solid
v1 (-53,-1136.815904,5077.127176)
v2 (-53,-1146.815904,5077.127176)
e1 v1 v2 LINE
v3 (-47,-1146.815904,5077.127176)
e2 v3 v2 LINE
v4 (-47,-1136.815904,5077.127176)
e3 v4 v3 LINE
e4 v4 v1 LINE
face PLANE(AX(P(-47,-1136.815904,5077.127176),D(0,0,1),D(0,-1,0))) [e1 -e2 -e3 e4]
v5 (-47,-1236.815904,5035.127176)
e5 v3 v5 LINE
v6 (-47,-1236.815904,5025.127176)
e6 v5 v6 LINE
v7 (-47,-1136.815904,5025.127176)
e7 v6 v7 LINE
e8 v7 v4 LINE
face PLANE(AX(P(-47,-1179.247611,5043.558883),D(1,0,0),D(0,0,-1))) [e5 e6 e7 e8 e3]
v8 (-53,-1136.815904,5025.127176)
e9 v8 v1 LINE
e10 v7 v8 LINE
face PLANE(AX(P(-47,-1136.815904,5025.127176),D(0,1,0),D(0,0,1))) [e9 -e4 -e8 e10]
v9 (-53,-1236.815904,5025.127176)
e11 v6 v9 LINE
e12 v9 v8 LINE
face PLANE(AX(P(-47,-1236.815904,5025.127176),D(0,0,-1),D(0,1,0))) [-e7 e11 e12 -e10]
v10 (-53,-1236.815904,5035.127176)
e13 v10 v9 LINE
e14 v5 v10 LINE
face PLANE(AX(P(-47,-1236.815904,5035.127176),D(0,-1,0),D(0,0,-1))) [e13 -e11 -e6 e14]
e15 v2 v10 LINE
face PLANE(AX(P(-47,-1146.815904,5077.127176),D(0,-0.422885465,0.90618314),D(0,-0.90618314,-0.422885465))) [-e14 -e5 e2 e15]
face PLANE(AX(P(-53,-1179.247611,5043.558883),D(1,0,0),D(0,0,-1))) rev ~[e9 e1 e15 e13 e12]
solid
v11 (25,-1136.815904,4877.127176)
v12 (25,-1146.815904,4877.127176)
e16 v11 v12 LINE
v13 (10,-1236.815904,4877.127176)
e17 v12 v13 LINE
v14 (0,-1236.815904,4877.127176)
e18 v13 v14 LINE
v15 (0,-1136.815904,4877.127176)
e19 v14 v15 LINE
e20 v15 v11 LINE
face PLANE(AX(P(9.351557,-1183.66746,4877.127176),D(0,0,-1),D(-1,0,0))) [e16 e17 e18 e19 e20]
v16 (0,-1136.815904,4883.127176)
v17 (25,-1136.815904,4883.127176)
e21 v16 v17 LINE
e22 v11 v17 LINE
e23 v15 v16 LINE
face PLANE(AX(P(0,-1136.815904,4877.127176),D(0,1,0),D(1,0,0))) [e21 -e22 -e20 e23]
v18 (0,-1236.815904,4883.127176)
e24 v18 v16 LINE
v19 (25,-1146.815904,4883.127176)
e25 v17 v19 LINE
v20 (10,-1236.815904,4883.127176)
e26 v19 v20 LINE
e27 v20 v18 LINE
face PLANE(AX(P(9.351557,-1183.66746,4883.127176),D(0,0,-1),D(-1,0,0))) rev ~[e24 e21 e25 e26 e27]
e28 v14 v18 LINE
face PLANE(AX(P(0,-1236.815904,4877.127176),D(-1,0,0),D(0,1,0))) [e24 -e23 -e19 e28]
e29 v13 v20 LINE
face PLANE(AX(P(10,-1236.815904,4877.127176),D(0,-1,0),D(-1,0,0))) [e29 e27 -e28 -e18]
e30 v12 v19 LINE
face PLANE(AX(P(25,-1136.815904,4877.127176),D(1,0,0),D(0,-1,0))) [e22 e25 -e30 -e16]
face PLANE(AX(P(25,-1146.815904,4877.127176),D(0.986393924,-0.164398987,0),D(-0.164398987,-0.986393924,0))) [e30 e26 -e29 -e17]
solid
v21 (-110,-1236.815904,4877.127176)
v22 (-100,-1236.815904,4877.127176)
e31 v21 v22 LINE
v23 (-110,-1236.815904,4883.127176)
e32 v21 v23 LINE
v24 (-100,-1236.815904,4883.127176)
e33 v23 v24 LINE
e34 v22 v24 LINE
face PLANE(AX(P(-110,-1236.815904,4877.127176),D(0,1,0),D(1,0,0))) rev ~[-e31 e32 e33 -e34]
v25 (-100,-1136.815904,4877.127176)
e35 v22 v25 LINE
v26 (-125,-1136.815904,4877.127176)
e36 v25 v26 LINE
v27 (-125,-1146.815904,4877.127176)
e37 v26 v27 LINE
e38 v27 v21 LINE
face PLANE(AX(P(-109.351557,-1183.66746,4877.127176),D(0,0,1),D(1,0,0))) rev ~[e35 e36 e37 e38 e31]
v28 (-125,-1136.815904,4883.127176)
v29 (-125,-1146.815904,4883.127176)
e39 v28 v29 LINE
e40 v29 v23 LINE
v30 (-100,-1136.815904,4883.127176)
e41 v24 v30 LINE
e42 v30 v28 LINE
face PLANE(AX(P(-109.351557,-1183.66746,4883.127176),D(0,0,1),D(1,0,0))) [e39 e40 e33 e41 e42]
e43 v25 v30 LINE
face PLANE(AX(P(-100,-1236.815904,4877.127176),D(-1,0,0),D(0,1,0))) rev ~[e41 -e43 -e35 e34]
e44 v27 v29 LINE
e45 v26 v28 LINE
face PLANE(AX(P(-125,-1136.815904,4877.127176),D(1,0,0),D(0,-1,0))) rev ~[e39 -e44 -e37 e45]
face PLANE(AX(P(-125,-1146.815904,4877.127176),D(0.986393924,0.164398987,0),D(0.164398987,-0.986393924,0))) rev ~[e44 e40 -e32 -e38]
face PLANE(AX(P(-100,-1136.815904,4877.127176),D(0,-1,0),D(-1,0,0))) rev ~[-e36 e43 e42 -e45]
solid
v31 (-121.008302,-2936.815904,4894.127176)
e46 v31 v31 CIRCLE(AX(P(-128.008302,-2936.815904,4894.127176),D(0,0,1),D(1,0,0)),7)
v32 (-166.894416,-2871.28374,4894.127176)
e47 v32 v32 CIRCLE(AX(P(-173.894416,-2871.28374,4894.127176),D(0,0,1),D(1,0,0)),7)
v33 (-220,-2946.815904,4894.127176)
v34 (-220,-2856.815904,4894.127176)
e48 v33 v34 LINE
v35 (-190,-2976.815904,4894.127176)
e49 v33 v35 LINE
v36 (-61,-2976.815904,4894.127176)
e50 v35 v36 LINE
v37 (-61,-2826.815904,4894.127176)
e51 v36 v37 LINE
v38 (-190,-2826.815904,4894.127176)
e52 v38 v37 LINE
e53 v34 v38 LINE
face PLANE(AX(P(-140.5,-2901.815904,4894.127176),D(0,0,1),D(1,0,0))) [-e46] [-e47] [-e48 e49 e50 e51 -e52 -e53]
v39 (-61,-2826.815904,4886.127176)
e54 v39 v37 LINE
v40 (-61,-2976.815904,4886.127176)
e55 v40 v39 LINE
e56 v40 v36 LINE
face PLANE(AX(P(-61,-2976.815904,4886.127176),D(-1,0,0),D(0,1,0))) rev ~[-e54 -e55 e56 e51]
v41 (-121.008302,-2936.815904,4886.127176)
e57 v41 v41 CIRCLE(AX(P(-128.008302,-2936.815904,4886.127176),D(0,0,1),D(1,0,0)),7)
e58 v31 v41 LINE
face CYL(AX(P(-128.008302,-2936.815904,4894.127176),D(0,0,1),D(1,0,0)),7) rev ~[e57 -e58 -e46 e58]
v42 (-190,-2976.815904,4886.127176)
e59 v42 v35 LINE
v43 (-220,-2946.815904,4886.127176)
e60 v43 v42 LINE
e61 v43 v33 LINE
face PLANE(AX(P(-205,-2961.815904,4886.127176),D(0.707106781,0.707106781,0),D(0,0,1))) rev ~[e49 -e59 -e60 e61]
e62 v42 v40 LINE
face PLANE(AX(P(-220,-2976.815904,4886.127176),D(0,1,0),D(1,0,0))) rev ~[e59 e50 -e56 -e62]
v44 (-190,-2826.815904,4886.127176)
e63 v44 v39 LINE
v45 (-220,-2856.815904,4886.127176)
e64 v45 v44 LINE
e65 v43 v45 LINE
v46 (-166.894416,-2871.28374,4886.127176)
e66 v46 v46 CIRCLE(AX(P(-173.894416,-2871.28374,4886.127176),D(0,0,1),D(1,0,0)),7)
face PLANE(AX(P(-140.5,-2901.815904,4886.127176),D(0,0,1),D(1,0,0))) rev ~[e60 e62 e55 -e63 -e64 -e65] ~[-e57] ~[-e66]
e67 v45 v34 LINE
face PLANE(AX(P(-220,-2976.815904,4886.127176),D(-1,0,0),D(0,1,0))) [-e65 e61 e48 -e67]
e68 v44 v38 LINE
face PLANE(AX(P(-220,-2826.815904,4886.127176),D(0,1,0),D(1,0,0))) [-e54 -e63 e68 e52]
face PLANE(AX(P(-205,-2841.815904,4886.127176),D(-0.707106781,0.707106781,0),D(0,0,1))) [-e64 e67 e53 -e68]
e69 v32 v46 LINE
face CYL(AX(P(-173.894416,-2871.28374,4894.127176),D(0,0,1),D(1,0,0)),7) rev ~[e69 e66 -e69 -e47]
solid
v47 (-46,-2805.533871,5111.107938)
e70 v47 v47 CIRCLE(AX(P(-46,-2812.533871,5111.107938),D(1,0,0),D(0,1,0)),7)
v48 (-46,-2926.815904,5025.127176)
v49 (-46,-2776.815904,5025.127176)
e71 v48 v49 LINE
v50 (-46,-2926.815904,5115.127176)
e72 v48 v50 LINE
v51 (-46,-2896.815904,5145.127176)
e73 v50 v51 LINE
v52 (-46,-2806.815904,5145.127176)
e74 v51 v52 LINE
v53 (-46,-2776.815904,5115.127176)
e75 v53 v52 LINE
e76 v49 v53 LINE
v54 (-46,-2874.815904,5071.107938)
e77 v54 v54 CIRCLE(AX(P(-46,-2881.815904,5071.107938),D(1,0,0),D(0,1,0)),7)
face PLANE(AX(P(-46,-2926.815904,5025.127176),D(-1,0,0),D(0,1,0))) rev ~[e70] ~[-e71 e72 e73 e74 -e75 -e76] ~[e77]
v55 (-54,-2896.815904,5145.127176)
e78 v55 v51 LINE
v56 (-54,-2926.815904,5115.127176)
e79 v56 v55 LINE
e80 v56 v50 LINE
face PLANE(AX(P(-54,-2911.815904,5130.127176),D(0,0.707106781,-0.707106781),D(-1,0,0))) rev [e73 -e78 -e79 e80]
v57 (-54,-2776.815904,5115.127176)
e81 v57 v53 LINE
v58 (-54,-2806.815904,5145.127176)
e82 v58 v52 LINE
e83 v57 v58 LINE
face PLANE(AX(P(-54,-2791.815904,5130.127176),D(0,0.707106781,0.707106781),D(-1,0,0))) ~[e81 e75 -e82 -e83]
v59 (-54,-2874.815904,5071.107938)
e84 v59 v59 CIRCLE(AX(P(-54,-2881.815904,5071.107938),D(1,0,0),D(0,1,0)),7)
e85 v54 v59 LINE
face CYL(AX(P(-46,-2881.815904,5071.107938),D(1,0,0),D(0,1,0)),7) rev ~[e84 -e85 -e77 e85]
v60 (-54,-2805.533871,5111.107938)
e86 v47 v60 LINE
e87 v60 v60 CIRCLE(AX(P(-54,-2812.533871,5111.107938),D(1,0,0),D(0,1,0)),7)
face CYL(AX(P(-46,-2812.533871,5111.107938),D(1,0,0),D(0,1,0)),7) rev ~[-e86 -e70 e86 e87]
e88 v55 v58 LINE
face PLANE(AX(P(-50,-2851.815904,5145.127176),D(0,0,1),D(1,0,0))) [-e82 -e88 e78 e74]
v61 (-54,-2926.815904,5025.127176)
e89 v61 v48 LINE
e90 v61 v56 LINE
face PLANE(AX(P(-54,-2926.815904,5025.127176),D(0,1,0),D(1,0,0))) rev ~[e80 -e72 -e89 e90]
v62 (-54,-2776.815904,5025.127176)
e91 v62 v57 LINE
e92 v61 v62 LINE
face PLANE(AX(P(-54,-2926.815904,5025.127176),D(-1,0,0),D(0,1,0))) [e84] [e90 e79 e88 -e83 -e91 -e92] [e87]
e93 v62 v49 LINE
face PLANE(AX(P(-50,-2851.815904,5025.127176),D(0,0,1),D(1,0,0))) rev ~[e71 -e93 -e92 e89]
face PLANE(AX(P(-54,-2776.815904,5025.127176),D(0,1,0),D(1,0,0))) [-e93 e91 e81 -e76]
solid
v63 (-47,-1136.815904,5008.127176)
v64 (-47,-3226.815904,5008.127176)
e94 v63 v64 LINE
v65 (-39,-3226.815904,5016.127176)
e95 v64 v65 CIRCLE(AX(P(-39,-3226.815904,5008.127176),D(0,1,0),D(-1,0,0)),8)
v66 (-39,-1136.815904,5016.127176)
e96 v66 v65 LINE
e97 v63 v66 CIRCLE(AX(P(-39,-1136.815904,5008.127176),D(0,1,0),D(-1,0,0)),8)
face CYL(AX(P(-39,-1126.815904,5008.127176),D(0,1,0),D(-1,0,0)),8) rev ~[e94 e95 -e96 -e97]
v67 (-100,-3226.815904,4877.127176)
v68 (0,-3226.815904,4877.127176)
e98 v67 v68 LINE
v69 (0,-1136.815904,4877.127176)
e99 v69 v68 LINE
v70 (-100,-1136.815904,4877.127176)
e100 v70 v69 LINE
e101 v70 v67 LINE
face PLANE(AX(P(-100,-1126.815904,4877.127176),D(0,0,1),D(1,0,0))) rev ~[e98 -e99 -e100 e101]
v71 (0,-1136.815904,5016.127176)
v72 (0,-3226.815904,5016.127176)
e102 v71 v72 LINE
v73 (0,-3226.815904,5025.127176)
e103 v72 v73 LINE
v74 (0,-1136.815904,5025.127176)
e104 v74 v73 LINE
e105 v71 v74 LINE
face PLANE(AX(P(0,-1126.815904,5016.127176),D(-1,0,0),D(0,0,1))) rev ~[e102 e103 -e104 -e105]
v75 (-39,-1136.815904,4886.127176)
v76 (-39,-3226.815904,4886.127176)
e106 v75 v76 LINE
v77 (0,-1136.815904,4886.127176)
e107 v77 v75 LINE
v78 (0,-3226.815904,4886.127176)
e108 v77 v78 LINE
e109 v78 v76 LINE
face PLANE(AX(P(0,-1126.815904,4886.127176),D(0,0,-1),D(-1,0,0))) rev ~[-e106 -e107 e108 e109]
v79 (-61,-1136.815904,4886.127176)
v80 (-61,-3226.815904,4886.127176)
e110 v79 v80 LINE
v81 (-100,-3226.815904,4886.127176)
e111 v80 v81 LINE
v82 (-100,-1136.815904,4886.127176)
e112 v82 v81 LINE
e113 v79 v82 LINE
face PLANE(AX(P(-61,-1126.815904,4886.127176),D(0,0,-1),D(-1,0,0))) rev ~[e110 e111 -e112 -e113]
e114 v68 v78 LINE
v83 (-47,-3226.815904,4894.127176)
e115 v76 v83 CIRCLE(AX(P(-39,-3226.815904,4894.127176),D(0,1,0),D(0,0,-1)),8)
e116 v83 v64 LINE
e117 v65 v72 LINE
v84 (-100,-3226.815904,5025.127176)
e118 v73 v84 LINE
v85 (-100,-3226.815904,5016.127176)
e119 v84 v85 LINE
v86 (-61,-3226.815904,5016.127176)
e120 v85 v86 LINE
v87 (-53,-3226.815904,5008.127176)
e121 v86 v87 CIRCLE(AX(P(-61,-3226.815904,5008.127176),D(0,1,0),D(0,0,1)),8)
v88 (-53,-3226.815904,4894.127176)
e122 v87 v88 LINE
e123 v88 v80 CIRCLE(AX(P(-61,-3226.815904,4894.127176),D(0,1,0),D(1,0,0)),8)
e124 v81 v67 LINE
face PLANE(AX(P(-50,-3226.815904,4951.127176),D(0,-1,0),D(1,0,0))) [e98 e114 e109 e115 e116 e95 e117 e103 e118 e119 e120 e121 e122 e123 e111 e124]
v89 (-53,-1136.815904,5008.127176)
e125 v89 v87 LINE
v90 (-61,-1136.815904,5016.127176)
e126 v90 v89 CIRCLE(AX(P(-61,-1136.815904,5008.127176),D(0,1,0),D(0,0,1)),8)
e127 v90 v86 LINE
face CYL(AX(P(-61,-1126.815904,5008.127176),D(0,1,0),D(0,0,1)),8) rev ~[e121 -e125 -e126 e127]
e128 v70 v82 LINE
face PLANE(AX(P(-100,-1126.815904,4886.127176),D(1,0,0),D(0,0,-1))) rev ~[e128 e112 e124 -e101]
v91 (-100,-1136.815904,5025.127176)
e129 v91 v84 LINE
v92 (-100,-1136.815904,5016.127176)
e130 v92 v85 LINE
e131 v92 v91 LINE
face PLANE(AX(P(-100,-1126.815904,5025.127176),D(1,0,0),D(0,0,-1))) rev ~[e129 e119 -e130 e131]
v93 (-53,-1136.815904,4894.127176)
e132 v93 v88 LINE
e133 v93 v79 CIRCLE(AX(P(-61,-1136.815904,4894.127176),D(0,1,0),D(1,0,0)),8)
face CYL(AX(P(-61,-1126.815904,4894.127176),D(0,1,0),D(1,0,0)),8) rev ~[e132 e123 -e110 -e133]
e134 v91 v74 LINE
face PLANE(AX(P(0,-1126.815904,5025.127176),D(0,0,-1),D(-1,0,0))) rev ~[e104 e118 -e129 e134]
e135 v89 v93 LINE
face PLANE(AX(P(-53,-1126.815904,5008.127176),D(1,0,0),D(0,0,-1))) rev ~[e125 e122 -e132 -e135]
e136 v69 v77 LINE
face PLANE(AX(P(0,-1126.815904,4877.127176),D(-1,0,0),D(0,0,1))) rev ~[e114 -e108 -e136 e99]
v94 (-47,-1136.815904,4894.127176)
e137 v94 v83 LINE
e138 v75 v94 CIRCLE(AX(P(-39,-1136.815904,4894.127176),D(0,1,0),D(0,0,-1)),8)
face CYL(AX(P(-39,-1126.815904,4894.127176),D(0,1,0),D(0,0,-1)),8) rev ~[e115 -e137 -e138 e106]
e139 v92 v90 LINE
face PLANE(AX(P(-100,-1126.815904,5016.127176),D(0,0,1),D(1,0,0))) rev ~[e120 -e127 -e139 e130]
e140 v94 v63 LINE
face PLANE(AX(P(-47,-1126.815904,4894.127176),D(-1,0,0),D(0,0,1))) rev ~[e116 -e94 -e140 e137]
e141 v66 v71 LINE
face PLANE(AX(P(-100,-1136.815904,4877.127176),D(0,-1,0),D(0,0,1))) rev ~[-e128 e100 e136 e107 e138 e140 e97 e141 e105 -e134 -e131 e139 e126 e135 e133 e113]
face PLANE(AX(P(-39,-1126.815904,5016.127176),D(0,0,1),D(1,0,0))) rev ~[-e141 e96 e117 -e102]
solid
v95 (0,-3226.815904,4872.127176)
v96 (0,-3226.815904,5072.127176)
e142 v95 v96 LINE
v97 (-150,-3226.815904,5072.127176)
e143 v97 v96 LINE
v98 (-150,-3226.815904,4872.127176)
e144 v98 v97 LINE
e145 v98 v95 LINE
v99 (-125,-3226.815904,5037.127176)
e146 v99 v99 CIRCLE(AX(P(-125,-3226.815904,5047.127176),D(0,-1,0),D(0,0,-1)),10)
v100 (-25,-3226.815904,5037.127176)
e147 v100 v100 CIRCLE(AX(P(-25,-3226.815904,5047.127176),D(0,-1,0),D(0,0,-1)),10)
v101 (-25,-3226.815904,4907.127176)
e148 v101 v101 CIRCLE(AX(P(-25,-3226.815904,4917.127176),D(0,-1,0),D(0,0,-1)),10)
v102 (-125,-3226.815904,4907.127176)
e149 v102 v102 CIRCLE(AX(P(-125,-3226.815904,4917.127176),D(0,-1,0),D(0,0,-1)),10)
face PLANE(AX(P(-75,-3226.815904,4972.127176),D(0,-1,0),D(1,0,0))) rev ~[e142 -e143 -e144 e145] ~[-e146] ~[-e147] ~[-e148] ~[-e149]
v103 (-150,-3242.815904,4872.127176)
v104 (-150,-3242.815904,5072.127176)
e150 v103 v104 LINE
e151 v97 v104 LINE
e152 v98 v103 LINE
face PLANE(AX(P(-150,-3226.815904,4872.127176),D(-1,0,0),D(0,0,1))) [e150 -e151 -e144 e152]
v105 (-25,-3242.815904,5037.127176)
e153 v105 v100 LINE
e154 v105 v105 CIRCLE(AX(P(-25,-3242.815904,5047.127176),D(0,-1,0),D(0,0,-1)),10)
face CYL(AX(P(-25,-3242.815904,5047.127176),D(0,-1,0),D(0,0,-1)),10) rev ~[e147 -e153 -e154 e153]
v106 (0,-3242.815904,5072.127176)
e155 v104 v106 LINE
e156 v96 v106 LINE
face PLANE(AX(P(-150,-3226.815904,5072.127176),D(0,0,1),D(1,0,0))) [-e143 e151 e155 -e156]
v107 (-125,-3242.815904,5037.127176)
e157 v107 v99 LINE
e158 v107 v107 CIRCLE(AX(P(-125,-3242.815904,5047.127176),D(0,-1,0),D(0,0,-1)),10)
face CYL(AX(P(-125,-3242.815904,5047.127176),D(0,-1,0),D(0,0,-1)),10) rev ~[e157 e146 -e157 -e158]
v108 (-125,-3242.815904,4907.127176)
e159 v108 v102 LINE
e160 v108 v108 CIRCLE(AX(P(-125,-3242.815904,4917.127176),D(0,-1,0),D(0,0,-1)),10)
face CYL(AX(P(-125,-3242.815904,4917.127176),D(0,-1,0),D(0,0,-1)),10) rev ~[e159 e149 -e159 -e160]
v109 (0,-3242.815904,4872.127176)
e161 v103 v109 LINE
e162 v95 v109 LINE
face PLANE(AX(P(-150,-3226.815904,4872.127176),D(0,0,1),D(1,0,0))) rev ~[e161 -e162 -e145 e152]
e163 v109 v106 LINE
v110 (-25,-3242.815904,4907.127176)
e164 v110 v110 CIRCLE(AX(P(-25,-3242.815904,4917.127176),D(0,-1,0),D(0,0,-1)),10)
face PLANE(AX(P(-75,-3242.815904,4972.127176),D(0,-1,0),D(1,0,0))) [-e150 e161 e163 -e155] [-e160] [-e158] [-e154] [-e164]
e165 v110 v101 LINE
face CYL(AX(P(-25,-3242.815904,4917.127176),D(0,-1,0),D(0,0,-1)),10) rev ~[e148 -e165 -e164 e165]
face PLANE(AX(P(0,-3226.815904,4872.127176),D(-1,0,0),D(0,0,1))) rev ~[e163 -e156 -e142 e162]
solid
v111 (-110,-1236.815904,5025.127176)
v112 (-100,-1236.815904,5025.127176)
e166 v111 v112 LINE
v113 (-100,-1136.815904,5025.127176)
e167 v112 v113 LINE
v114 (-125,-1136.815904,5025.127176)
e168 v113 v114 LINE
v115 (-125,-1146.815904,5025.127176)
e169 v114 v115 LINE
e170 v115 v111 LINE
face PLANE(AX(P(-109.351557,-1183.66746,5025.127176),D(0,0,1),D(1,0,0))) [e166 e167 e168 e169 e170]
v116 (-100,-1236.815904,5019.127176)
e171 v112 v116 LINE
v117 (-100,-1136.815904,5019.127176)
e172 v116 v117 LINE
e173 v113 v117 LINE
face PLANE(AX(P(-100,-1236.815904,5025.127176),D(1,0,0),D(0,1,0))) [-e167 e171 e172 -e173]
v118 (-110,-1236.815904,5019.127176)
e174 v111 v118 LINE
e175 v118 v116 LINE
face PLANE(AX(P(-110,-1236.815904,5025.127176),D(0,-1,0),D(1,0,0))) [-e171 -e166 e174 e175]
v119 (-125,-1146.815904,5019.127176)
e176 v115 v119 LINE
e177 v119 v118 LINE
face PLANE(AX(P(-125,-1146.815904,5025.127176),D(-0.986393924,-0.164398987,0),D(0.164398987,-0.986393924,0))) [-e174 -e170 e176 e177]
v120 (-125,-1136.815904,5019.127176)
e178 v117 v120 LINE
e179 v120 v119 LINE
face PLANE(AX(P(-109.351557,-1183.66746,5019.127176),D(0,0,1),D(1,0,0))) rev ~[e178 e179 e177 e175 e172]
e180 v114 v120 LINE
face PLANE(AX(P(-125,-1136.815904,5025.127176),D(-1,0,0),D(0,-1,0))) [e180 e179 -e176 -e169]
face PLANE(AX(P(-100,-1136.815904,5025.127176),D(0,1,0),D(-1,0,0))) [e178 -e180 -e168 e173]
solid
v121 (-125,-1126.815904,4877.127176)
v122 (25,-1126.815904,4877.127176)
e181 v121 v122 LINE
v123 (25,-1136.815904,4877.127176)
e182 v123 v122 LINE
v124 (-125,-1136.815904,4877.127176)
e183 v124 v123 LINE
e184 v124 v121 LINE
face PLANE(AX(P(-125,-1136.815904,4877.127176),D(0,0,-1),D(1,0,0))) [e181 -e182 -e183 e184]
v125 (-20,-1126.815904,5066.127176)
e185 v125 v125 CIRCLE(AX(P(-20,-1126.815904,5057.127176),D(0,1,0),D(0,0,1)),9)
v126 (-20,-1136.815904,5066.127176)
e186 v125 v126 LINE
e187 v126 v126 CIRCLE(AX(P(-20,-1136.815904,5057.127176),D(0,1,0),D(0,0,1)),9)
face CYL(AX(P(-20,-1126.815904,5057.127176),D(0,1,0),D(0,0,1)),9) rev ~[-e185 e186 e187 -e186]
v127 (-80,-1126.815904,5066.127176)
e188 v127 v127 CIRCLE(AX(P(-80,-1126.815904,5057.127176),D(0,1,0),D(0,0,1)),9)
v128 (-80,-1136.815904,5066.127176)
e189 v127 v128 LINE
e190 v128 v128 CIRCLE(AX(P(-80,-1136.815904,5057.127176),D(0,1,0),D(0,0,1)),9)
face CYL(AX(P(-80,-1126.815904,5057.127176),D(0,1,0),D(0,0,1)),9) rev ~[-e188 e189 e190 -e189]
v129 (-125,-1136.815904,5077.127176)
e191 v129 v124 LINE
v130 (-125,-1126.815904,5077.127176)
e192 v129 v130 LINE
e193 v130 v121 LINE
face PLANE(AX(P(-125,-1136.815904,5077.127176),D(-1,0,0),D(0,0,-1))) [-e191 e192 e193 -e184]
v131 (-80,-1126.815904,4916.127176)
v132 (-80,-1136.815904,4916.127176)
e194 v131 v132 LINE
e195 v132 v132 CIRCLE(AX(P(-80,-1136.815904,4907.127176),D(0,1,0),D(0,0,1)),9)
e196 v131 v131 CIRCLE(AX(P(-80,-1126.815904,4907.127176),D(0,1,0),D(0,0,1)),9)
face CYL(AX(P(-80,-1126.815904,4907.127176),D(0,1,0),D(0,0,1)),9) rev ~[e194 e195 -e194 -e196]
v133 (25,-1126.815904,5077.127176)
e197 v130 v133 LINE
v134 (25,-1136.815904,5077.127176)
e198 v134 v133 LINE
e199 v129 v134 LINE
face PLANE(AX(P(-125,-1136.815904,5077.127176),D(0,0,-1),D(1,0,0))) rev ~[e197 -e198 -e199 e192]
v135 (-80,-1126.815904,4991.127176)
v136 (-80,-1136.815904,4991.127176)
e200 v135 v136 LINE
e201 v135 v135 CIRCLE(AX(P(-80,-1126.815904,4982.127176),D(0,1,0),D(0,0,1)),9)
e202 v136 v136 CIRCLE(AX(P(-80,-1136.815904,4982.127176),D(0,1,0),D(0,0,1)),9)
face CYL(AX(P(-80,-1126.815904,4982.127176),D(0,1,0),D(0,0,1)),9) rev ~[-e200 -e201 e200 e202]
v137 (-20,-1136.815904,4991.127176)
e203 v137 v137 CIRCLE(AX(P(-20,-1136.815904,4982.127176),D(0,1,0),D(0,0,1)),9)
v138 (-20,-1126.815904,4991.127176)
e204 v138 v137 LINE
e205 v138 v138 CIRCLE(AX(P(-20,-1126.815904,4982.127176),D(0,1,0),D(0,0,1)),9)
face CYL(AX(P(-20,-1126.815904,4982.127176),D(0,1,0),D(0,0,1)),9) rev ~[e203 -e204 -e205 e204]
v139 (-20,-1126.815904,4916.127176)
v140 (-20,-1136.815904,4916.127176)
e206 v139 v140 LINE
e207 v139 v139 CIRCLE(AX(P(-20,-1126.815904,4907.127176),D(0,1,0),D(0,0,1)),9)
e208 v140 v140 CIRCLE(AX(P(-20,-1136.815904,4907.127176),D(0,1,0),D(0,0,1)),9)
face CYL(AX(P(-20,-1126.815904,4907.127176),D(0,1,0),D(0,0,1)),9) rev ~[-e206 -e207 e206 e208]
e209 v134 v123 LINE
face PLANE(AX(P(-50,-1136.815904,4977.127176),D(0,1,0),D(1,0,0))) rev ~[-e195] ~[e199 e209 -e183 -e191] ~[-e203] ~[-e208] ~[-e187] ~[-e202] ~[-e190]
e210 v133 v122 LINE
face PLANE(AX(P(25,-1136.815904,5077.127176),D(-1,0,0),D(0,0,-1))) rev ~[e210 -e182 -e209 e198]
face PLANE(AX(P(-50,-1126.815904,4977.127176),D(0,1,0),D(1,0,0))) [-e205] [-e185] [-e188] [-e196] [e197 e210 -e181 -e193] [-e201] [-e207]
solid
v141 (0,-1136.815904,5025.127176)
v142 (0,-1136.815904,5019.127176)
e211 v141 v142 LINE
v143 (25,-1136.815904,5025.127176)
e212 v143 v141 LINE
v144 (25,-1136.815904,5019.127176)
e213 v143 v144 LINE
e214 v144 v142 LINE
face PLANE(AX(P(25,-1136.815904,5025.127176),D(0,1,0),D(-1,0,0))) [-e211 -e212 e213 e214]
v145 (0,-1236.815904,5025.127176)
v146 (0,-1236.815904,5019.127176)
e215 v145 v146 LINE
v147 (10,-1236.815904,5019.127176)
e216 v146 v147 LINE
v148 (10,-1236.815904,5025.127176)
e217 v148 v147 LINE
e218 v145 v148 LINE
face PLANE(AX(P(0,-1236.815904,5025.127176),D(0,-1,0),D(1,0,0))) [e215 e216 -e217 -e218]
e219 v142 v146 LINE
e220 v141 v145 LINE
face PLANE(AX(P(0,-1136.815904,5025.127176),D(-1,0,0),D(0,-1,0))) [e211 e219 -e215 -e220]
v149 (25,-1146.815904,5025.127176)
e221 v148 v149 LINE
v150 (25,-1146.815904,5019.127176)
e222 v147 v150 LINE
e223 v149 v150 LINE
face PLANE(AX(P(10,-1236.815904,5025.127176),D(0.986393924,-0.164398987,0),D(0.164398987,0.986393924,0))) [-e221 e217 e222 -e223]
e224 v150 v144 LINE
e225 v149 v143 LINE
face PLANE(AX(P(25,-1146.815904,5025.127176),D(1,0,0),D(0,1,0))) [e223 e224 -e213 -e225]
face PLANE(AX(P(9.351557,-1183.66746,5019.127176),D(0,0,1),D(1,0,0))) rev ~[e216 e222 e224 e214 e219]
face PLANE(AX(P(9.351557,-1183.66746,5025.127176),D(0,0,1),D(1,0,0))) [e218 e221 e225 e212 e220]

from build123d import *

# Parameters (mm, degrees)
H_HM150_100_1_DEPTH = 2100
SKETCH_12_W         = 150
SKETCH_12_H         = 200
EXTRUDE_1_DEPTH     = 16
SKETCH_13_W         = 148
SKETCH_13_H         = 10
CUT_EXTRUDE_1_DEPTH = 100
SKETCH_14_W         = 150
SKETCH_14_H         = 200
EXTRUDE_2_DEPTH     = 10
SKETCH_16_R         = 9
CUT_EXTRUDE_2_DEPTH = 10
EXTRUDE_3_DEPTH     = 6
EXTRUDE_3_2_DEPTH   = 6
EXTRUDE_4_DEPTH     = 6
EXTRUDE_4_2_DEPTH   = 6
EXTRUDE_5_DEPTH     = 6
SKETCH_20_W         = 8
SKETCH_20_H         = 150
EXTRUDE_6_DEPTH     = 120
CHAMFER_1_SIZE      = 30
SKETCH_21_R         = 7
CUT_EXTRUDE_3_DEPTH = 8
SKETCH_22_W         = 159
SKETCH_22_H         = 150
EXTRUDE_7_DEPTH     = 8
CHAMFER_2_SIZE      = 30
SKETCH_23_R         = 7
CUT_EXTRUDE_4_DEPTH = 8
SKETCH_24_R         = 10
CUT_EXTRUDE_5_DEPTH = 16


with BuildPart() as part:
    # 草图11 → H型钢 HM150×100(1) (new body)
    with BuildSketch(Plane(origin=(-50, -1126.815903712, 4951.12717578), x_dir=(1, 0, 0), z_dir=(0, -1, 0))):
        with BuildLine():
            Line((-50, -74), (50, -74))
            Line((50, -74), (50, -65))
            Line((50, -65), (11, -65))
            ThreePointArc((11, -65), (5.343145751, -62.656854249), (3, -57))
            Line((3, -57), (3, 57))
            ThreePointArc((3, 57), (5.343145751, 62.656854249), (11, 65))
            Line((11, 65), (50, 65))
            Line((50, 65), (50, 74))
            Line((50, 74), (-50, 74))
            Line((-50, 74), (-50, 65))
            Line((-50, 65), (-11, 65))
            ThreePointArc((-11, 65), (-5.343145751, 62.656854249), (-3, 57))
            Line((-3, 57), (-3, -57))
            ThreePointArc((-3, -57), (-5.343145751, -62.656854249), (-11, -65))
            Line((-11, -65), (-50, -65))
            Line((-50, -65), (-50, -74))
        make_face()
    extrude(amount=H_HM150_100_1_DEPTH)

    # 草图13 → 切除-拉伸1 (cut)
    with BuildSketch(Plane.ZY.offset(100)):
        with Locations((4951.12717578, -1131.815903712)):
            Rectangle(SKETCH_13_W, SKETCH_13_H)
    extrude(amount=-CUT_EXTRUDE_1_DEPTH, mode=Mode.SUBTRACT)


with BuildPart() as body_2:
    # 草图12 → 凸台-拉伸1 (new body)
    with BuildSketch(Plane.XZ.offset(3226.815903712)):
        with Locations((-75, 4972.12717578)):
            Rectangle(SKETCH_12_W, SKETCH_12_H)
    extrude(amount=EXTRUDE_1_DEPTH)

    # 草图24 → 切除-拉伸5 (cut)
    with BuildSketch(Plane.XZ.offset(3242.815903712)):
        with Locations(Location((-125, 5047.12717578, 0), (0, 0, 270))):
            Circle(SKETCH_24_R)
        with Locations(Location((-25, 5047.12717578, 0), (0, 0, 270))):
            Circle(SKETCH_24_R)
        with Locations(Location((-125, 4917.12717578, 0), (0, 0, 270))):
            Circle(SKETCH_24_R)
        with Locations(Location((-25, 4917.12717578, 0), (0, 0, 270))):
            Circle(SKETCH_24_R)
    extrude(amount=-CUT_EXTRUDE_5_DEPTH, mode=Mode.SUBTRACT)


with BuildPart() as body_3:
    # 草图14 → 凸台-拉伸2 (new body)
    with BuildSketch(Plane(origin=(0, -1136.815903712, 0), x_dir=(1, 0, 0), z_dir=(0, 1, 0))):
        with Locations((-50, -4977.12717578)):
            Rectangle(SKETCH_14_W, SKETCH_14_H)
    extrude(amount=EXTRUDE_2_DEPTH)

    # 草图16 → 切除-拉伸2 (cut)
    with BuildSketch(Plane(origin=(0, -1126.815903712, 0), x_dir=(1, 0, 0), z_dir=(0, 1, 0))):
        with Locations(Location((-20, -4907.12717578, 0), (0, 0, 270))):
            Circle(SKETCH_16_R)
        with Locations(Location((-20, -4982.12717578, 0), (0, 0, 270))):
            Circle(SKETCH_16_R)
        with Locations(Location((-20, -5057.12717578, 0), (0, 0, 270))):
            Circle(SKETCH_16_R)
        with Locations(Location((-80, -4907.12717578, 0), (0, 0, 270))):
            Circle(SKETCH_16_R)
        with Locations(Location((-80, -4982.12717578, 0), (0, 0, 270))):
            Circle(SKETCH_16_R)
        with Locations(Location((-80, -5057.12717578, 0), (0, 0, 270))):
            Circle(SKETCH_16_R)
    extrude(amount=-CUT_EXTRUDE_2_DEPTH, mode=Mode.SUBTRACT)


with BuildPart() as body_4:
    # 草图17 → 凸台-拉伸3 (new body)
    with BuildSketch(Plane(origin=(0, 0, 4877.12717578), x_dir=(-1, 0, 0), z_dir=(0, 0, -1))):
        Polygon((0, -1136.815903712), (-25, -1136.815903712), (-25, -1146.815903712), (-10, -1236.815903712), (0, -1236.815903712), align=None)
    extrude(amount=-EXTRUDE_3_DEPTH)


with BuildPart() as body_5:
    # 草图17 → Extrude 3 2 (new body)
    with BuildSketch(Plane(origin=(0, 0, 4877.12717578), x_dir=(-1, 0, 0), z_dir=(0, 0, -1))):
        Polygon((100, -1136.815903712), (125, -1136.815903712), (125, -1146.815903712), (110, -1236.815903712), (100, -1236.815903712), align=None)
    extrude(amount=-EXTRUDE_3_2_DEPTH)


with BuildPart() as body_6:
    # 草图18 → 凸台-拉伸4 (new body)
    with BuildSketch(Plane.XY.offset(5025.12717578)):
        Polygon((-100, -1236.815903712), (-100, -1136.815903712), (-125, -1136.815903712), (-125, -1146.815903712), (-110, -1236.815903712), align=None)
    extrude(amount=-EXTRUDE_4_DEPTH)


with BuildPart() as body_7:
    # 草图18 → Extrude 4 2 (new body)
    with BuildSketch(Plane.XY.offset(5025.12717578)):
        Polygon((0, -1136.815903712), (0, -1236.815903712), (10, -1236.815903712), (25, -1146.815903712), (25, -1136.815903712), align=None)
    extrude(amount=-EXTRUDE_4_2_DEPTH)


with BuildPart() as body_8:
    # 草图19 → 凸台-拉伸5 (new body)
    with BuildSketch(Plane(origin=(-47, 0, 0), x_dir=(0, 0, -1), z_dir=(1, 0, 0))):
        Polygon((-5025.12717578, -1136.815903712), (-5077.12717578, -1136.815903712), (-5077.12717578, -1146.815903712), (-5035.12717578, -1236.815903712), (-5025.12717578, -1236.815903712), align=None)
    extrude(amount=-EXTRUDE_5_DEPTH)


with BuildPart() as body_9:
    # 草图20 → 凸台-拉伸6 (new body)
    with BuildSketch(Plane.XY.offset(5025.12717578)):
        with Locations((-50, -2851.815903712)):
            Rectangle(SKETCH_20_W, SKETCH_20_H)
    extrude(amount=EXTRUDE_6_DEPTH)

    # 倒角1
    chamfer_1_edges = [body_9.edges().sort_by_distance(p)[0] for p in [
        (-50, -2776.815903712, 5145.12717578),
        (-50, -2926.815903712, 5145.12717578),
    ]]
    chamfer(chamfer_1_edges, length=CHAMFER_1_SIZE)

    # 草图21 → 切除-拉伸3 (cut)
    with BuildSketch(Plane(origin=(-46, 0, 0), x_dir=(0, 0, -1), z_dir=(1, 0, 0))):
        with Locations(Location((-5071.107937894, -2881.815903712, 0), (0, 0, 90))):
            Circle(SKETCH_21_R)
        with Locations(Location((-5111.107937894, -2812.533871409, 0), (0, 0, 90))):
            Circle(SKETCH_21_R)
    extrude(amount=-CUT_EXTRUDE_3_DEPTH, mode=Mode.SUBTRACT)


with BuildPart() as body_10:
    # 草图22 → 凸台-拉伸7 (new body)
    with BuildSketch(Plane.XY.offset(4886.12717578)):
        with Locations((-140.5, -2901.815903712)):
            Rectangle(SKETCH_22_W, SKETCH_22_H)
    extrude(amount=EXTRUDE_7_DEPTH)

    # 倒角2
    chamfer_2_edges = [body_10.edges().sort_by_distance(p)[0] for p in [
        (-220, -2976.815903712, 4890.12717578),
        (-220, -2826.815903712, 4890.12717578),
    ]]
    chamfer(chamfer_2_edges, length=CHAMFER_2_SIZE)

    # 草图23 → 切除-拉伸4 (cut)
    with BuildSketch(Plane.XY.offset(4894.12717578)):
        with Locations((-128.008301528, -2936.815903712)):
            Circle(SKETCH_23_R)
        with Locations((-173.894416436, -2871.283740168)):
            Circle(SKETCH_23_R)
    extrude(amount=-CUT_EXTRUDE_4_DEPTH, mode=Mode.SUBTRACT)


solid = Compound([part.part, body_2.part, body_3.part, body_4.part, body_5.part, body_6.part, body_7.part, body_8.part, body_9.part, body_10.part])
